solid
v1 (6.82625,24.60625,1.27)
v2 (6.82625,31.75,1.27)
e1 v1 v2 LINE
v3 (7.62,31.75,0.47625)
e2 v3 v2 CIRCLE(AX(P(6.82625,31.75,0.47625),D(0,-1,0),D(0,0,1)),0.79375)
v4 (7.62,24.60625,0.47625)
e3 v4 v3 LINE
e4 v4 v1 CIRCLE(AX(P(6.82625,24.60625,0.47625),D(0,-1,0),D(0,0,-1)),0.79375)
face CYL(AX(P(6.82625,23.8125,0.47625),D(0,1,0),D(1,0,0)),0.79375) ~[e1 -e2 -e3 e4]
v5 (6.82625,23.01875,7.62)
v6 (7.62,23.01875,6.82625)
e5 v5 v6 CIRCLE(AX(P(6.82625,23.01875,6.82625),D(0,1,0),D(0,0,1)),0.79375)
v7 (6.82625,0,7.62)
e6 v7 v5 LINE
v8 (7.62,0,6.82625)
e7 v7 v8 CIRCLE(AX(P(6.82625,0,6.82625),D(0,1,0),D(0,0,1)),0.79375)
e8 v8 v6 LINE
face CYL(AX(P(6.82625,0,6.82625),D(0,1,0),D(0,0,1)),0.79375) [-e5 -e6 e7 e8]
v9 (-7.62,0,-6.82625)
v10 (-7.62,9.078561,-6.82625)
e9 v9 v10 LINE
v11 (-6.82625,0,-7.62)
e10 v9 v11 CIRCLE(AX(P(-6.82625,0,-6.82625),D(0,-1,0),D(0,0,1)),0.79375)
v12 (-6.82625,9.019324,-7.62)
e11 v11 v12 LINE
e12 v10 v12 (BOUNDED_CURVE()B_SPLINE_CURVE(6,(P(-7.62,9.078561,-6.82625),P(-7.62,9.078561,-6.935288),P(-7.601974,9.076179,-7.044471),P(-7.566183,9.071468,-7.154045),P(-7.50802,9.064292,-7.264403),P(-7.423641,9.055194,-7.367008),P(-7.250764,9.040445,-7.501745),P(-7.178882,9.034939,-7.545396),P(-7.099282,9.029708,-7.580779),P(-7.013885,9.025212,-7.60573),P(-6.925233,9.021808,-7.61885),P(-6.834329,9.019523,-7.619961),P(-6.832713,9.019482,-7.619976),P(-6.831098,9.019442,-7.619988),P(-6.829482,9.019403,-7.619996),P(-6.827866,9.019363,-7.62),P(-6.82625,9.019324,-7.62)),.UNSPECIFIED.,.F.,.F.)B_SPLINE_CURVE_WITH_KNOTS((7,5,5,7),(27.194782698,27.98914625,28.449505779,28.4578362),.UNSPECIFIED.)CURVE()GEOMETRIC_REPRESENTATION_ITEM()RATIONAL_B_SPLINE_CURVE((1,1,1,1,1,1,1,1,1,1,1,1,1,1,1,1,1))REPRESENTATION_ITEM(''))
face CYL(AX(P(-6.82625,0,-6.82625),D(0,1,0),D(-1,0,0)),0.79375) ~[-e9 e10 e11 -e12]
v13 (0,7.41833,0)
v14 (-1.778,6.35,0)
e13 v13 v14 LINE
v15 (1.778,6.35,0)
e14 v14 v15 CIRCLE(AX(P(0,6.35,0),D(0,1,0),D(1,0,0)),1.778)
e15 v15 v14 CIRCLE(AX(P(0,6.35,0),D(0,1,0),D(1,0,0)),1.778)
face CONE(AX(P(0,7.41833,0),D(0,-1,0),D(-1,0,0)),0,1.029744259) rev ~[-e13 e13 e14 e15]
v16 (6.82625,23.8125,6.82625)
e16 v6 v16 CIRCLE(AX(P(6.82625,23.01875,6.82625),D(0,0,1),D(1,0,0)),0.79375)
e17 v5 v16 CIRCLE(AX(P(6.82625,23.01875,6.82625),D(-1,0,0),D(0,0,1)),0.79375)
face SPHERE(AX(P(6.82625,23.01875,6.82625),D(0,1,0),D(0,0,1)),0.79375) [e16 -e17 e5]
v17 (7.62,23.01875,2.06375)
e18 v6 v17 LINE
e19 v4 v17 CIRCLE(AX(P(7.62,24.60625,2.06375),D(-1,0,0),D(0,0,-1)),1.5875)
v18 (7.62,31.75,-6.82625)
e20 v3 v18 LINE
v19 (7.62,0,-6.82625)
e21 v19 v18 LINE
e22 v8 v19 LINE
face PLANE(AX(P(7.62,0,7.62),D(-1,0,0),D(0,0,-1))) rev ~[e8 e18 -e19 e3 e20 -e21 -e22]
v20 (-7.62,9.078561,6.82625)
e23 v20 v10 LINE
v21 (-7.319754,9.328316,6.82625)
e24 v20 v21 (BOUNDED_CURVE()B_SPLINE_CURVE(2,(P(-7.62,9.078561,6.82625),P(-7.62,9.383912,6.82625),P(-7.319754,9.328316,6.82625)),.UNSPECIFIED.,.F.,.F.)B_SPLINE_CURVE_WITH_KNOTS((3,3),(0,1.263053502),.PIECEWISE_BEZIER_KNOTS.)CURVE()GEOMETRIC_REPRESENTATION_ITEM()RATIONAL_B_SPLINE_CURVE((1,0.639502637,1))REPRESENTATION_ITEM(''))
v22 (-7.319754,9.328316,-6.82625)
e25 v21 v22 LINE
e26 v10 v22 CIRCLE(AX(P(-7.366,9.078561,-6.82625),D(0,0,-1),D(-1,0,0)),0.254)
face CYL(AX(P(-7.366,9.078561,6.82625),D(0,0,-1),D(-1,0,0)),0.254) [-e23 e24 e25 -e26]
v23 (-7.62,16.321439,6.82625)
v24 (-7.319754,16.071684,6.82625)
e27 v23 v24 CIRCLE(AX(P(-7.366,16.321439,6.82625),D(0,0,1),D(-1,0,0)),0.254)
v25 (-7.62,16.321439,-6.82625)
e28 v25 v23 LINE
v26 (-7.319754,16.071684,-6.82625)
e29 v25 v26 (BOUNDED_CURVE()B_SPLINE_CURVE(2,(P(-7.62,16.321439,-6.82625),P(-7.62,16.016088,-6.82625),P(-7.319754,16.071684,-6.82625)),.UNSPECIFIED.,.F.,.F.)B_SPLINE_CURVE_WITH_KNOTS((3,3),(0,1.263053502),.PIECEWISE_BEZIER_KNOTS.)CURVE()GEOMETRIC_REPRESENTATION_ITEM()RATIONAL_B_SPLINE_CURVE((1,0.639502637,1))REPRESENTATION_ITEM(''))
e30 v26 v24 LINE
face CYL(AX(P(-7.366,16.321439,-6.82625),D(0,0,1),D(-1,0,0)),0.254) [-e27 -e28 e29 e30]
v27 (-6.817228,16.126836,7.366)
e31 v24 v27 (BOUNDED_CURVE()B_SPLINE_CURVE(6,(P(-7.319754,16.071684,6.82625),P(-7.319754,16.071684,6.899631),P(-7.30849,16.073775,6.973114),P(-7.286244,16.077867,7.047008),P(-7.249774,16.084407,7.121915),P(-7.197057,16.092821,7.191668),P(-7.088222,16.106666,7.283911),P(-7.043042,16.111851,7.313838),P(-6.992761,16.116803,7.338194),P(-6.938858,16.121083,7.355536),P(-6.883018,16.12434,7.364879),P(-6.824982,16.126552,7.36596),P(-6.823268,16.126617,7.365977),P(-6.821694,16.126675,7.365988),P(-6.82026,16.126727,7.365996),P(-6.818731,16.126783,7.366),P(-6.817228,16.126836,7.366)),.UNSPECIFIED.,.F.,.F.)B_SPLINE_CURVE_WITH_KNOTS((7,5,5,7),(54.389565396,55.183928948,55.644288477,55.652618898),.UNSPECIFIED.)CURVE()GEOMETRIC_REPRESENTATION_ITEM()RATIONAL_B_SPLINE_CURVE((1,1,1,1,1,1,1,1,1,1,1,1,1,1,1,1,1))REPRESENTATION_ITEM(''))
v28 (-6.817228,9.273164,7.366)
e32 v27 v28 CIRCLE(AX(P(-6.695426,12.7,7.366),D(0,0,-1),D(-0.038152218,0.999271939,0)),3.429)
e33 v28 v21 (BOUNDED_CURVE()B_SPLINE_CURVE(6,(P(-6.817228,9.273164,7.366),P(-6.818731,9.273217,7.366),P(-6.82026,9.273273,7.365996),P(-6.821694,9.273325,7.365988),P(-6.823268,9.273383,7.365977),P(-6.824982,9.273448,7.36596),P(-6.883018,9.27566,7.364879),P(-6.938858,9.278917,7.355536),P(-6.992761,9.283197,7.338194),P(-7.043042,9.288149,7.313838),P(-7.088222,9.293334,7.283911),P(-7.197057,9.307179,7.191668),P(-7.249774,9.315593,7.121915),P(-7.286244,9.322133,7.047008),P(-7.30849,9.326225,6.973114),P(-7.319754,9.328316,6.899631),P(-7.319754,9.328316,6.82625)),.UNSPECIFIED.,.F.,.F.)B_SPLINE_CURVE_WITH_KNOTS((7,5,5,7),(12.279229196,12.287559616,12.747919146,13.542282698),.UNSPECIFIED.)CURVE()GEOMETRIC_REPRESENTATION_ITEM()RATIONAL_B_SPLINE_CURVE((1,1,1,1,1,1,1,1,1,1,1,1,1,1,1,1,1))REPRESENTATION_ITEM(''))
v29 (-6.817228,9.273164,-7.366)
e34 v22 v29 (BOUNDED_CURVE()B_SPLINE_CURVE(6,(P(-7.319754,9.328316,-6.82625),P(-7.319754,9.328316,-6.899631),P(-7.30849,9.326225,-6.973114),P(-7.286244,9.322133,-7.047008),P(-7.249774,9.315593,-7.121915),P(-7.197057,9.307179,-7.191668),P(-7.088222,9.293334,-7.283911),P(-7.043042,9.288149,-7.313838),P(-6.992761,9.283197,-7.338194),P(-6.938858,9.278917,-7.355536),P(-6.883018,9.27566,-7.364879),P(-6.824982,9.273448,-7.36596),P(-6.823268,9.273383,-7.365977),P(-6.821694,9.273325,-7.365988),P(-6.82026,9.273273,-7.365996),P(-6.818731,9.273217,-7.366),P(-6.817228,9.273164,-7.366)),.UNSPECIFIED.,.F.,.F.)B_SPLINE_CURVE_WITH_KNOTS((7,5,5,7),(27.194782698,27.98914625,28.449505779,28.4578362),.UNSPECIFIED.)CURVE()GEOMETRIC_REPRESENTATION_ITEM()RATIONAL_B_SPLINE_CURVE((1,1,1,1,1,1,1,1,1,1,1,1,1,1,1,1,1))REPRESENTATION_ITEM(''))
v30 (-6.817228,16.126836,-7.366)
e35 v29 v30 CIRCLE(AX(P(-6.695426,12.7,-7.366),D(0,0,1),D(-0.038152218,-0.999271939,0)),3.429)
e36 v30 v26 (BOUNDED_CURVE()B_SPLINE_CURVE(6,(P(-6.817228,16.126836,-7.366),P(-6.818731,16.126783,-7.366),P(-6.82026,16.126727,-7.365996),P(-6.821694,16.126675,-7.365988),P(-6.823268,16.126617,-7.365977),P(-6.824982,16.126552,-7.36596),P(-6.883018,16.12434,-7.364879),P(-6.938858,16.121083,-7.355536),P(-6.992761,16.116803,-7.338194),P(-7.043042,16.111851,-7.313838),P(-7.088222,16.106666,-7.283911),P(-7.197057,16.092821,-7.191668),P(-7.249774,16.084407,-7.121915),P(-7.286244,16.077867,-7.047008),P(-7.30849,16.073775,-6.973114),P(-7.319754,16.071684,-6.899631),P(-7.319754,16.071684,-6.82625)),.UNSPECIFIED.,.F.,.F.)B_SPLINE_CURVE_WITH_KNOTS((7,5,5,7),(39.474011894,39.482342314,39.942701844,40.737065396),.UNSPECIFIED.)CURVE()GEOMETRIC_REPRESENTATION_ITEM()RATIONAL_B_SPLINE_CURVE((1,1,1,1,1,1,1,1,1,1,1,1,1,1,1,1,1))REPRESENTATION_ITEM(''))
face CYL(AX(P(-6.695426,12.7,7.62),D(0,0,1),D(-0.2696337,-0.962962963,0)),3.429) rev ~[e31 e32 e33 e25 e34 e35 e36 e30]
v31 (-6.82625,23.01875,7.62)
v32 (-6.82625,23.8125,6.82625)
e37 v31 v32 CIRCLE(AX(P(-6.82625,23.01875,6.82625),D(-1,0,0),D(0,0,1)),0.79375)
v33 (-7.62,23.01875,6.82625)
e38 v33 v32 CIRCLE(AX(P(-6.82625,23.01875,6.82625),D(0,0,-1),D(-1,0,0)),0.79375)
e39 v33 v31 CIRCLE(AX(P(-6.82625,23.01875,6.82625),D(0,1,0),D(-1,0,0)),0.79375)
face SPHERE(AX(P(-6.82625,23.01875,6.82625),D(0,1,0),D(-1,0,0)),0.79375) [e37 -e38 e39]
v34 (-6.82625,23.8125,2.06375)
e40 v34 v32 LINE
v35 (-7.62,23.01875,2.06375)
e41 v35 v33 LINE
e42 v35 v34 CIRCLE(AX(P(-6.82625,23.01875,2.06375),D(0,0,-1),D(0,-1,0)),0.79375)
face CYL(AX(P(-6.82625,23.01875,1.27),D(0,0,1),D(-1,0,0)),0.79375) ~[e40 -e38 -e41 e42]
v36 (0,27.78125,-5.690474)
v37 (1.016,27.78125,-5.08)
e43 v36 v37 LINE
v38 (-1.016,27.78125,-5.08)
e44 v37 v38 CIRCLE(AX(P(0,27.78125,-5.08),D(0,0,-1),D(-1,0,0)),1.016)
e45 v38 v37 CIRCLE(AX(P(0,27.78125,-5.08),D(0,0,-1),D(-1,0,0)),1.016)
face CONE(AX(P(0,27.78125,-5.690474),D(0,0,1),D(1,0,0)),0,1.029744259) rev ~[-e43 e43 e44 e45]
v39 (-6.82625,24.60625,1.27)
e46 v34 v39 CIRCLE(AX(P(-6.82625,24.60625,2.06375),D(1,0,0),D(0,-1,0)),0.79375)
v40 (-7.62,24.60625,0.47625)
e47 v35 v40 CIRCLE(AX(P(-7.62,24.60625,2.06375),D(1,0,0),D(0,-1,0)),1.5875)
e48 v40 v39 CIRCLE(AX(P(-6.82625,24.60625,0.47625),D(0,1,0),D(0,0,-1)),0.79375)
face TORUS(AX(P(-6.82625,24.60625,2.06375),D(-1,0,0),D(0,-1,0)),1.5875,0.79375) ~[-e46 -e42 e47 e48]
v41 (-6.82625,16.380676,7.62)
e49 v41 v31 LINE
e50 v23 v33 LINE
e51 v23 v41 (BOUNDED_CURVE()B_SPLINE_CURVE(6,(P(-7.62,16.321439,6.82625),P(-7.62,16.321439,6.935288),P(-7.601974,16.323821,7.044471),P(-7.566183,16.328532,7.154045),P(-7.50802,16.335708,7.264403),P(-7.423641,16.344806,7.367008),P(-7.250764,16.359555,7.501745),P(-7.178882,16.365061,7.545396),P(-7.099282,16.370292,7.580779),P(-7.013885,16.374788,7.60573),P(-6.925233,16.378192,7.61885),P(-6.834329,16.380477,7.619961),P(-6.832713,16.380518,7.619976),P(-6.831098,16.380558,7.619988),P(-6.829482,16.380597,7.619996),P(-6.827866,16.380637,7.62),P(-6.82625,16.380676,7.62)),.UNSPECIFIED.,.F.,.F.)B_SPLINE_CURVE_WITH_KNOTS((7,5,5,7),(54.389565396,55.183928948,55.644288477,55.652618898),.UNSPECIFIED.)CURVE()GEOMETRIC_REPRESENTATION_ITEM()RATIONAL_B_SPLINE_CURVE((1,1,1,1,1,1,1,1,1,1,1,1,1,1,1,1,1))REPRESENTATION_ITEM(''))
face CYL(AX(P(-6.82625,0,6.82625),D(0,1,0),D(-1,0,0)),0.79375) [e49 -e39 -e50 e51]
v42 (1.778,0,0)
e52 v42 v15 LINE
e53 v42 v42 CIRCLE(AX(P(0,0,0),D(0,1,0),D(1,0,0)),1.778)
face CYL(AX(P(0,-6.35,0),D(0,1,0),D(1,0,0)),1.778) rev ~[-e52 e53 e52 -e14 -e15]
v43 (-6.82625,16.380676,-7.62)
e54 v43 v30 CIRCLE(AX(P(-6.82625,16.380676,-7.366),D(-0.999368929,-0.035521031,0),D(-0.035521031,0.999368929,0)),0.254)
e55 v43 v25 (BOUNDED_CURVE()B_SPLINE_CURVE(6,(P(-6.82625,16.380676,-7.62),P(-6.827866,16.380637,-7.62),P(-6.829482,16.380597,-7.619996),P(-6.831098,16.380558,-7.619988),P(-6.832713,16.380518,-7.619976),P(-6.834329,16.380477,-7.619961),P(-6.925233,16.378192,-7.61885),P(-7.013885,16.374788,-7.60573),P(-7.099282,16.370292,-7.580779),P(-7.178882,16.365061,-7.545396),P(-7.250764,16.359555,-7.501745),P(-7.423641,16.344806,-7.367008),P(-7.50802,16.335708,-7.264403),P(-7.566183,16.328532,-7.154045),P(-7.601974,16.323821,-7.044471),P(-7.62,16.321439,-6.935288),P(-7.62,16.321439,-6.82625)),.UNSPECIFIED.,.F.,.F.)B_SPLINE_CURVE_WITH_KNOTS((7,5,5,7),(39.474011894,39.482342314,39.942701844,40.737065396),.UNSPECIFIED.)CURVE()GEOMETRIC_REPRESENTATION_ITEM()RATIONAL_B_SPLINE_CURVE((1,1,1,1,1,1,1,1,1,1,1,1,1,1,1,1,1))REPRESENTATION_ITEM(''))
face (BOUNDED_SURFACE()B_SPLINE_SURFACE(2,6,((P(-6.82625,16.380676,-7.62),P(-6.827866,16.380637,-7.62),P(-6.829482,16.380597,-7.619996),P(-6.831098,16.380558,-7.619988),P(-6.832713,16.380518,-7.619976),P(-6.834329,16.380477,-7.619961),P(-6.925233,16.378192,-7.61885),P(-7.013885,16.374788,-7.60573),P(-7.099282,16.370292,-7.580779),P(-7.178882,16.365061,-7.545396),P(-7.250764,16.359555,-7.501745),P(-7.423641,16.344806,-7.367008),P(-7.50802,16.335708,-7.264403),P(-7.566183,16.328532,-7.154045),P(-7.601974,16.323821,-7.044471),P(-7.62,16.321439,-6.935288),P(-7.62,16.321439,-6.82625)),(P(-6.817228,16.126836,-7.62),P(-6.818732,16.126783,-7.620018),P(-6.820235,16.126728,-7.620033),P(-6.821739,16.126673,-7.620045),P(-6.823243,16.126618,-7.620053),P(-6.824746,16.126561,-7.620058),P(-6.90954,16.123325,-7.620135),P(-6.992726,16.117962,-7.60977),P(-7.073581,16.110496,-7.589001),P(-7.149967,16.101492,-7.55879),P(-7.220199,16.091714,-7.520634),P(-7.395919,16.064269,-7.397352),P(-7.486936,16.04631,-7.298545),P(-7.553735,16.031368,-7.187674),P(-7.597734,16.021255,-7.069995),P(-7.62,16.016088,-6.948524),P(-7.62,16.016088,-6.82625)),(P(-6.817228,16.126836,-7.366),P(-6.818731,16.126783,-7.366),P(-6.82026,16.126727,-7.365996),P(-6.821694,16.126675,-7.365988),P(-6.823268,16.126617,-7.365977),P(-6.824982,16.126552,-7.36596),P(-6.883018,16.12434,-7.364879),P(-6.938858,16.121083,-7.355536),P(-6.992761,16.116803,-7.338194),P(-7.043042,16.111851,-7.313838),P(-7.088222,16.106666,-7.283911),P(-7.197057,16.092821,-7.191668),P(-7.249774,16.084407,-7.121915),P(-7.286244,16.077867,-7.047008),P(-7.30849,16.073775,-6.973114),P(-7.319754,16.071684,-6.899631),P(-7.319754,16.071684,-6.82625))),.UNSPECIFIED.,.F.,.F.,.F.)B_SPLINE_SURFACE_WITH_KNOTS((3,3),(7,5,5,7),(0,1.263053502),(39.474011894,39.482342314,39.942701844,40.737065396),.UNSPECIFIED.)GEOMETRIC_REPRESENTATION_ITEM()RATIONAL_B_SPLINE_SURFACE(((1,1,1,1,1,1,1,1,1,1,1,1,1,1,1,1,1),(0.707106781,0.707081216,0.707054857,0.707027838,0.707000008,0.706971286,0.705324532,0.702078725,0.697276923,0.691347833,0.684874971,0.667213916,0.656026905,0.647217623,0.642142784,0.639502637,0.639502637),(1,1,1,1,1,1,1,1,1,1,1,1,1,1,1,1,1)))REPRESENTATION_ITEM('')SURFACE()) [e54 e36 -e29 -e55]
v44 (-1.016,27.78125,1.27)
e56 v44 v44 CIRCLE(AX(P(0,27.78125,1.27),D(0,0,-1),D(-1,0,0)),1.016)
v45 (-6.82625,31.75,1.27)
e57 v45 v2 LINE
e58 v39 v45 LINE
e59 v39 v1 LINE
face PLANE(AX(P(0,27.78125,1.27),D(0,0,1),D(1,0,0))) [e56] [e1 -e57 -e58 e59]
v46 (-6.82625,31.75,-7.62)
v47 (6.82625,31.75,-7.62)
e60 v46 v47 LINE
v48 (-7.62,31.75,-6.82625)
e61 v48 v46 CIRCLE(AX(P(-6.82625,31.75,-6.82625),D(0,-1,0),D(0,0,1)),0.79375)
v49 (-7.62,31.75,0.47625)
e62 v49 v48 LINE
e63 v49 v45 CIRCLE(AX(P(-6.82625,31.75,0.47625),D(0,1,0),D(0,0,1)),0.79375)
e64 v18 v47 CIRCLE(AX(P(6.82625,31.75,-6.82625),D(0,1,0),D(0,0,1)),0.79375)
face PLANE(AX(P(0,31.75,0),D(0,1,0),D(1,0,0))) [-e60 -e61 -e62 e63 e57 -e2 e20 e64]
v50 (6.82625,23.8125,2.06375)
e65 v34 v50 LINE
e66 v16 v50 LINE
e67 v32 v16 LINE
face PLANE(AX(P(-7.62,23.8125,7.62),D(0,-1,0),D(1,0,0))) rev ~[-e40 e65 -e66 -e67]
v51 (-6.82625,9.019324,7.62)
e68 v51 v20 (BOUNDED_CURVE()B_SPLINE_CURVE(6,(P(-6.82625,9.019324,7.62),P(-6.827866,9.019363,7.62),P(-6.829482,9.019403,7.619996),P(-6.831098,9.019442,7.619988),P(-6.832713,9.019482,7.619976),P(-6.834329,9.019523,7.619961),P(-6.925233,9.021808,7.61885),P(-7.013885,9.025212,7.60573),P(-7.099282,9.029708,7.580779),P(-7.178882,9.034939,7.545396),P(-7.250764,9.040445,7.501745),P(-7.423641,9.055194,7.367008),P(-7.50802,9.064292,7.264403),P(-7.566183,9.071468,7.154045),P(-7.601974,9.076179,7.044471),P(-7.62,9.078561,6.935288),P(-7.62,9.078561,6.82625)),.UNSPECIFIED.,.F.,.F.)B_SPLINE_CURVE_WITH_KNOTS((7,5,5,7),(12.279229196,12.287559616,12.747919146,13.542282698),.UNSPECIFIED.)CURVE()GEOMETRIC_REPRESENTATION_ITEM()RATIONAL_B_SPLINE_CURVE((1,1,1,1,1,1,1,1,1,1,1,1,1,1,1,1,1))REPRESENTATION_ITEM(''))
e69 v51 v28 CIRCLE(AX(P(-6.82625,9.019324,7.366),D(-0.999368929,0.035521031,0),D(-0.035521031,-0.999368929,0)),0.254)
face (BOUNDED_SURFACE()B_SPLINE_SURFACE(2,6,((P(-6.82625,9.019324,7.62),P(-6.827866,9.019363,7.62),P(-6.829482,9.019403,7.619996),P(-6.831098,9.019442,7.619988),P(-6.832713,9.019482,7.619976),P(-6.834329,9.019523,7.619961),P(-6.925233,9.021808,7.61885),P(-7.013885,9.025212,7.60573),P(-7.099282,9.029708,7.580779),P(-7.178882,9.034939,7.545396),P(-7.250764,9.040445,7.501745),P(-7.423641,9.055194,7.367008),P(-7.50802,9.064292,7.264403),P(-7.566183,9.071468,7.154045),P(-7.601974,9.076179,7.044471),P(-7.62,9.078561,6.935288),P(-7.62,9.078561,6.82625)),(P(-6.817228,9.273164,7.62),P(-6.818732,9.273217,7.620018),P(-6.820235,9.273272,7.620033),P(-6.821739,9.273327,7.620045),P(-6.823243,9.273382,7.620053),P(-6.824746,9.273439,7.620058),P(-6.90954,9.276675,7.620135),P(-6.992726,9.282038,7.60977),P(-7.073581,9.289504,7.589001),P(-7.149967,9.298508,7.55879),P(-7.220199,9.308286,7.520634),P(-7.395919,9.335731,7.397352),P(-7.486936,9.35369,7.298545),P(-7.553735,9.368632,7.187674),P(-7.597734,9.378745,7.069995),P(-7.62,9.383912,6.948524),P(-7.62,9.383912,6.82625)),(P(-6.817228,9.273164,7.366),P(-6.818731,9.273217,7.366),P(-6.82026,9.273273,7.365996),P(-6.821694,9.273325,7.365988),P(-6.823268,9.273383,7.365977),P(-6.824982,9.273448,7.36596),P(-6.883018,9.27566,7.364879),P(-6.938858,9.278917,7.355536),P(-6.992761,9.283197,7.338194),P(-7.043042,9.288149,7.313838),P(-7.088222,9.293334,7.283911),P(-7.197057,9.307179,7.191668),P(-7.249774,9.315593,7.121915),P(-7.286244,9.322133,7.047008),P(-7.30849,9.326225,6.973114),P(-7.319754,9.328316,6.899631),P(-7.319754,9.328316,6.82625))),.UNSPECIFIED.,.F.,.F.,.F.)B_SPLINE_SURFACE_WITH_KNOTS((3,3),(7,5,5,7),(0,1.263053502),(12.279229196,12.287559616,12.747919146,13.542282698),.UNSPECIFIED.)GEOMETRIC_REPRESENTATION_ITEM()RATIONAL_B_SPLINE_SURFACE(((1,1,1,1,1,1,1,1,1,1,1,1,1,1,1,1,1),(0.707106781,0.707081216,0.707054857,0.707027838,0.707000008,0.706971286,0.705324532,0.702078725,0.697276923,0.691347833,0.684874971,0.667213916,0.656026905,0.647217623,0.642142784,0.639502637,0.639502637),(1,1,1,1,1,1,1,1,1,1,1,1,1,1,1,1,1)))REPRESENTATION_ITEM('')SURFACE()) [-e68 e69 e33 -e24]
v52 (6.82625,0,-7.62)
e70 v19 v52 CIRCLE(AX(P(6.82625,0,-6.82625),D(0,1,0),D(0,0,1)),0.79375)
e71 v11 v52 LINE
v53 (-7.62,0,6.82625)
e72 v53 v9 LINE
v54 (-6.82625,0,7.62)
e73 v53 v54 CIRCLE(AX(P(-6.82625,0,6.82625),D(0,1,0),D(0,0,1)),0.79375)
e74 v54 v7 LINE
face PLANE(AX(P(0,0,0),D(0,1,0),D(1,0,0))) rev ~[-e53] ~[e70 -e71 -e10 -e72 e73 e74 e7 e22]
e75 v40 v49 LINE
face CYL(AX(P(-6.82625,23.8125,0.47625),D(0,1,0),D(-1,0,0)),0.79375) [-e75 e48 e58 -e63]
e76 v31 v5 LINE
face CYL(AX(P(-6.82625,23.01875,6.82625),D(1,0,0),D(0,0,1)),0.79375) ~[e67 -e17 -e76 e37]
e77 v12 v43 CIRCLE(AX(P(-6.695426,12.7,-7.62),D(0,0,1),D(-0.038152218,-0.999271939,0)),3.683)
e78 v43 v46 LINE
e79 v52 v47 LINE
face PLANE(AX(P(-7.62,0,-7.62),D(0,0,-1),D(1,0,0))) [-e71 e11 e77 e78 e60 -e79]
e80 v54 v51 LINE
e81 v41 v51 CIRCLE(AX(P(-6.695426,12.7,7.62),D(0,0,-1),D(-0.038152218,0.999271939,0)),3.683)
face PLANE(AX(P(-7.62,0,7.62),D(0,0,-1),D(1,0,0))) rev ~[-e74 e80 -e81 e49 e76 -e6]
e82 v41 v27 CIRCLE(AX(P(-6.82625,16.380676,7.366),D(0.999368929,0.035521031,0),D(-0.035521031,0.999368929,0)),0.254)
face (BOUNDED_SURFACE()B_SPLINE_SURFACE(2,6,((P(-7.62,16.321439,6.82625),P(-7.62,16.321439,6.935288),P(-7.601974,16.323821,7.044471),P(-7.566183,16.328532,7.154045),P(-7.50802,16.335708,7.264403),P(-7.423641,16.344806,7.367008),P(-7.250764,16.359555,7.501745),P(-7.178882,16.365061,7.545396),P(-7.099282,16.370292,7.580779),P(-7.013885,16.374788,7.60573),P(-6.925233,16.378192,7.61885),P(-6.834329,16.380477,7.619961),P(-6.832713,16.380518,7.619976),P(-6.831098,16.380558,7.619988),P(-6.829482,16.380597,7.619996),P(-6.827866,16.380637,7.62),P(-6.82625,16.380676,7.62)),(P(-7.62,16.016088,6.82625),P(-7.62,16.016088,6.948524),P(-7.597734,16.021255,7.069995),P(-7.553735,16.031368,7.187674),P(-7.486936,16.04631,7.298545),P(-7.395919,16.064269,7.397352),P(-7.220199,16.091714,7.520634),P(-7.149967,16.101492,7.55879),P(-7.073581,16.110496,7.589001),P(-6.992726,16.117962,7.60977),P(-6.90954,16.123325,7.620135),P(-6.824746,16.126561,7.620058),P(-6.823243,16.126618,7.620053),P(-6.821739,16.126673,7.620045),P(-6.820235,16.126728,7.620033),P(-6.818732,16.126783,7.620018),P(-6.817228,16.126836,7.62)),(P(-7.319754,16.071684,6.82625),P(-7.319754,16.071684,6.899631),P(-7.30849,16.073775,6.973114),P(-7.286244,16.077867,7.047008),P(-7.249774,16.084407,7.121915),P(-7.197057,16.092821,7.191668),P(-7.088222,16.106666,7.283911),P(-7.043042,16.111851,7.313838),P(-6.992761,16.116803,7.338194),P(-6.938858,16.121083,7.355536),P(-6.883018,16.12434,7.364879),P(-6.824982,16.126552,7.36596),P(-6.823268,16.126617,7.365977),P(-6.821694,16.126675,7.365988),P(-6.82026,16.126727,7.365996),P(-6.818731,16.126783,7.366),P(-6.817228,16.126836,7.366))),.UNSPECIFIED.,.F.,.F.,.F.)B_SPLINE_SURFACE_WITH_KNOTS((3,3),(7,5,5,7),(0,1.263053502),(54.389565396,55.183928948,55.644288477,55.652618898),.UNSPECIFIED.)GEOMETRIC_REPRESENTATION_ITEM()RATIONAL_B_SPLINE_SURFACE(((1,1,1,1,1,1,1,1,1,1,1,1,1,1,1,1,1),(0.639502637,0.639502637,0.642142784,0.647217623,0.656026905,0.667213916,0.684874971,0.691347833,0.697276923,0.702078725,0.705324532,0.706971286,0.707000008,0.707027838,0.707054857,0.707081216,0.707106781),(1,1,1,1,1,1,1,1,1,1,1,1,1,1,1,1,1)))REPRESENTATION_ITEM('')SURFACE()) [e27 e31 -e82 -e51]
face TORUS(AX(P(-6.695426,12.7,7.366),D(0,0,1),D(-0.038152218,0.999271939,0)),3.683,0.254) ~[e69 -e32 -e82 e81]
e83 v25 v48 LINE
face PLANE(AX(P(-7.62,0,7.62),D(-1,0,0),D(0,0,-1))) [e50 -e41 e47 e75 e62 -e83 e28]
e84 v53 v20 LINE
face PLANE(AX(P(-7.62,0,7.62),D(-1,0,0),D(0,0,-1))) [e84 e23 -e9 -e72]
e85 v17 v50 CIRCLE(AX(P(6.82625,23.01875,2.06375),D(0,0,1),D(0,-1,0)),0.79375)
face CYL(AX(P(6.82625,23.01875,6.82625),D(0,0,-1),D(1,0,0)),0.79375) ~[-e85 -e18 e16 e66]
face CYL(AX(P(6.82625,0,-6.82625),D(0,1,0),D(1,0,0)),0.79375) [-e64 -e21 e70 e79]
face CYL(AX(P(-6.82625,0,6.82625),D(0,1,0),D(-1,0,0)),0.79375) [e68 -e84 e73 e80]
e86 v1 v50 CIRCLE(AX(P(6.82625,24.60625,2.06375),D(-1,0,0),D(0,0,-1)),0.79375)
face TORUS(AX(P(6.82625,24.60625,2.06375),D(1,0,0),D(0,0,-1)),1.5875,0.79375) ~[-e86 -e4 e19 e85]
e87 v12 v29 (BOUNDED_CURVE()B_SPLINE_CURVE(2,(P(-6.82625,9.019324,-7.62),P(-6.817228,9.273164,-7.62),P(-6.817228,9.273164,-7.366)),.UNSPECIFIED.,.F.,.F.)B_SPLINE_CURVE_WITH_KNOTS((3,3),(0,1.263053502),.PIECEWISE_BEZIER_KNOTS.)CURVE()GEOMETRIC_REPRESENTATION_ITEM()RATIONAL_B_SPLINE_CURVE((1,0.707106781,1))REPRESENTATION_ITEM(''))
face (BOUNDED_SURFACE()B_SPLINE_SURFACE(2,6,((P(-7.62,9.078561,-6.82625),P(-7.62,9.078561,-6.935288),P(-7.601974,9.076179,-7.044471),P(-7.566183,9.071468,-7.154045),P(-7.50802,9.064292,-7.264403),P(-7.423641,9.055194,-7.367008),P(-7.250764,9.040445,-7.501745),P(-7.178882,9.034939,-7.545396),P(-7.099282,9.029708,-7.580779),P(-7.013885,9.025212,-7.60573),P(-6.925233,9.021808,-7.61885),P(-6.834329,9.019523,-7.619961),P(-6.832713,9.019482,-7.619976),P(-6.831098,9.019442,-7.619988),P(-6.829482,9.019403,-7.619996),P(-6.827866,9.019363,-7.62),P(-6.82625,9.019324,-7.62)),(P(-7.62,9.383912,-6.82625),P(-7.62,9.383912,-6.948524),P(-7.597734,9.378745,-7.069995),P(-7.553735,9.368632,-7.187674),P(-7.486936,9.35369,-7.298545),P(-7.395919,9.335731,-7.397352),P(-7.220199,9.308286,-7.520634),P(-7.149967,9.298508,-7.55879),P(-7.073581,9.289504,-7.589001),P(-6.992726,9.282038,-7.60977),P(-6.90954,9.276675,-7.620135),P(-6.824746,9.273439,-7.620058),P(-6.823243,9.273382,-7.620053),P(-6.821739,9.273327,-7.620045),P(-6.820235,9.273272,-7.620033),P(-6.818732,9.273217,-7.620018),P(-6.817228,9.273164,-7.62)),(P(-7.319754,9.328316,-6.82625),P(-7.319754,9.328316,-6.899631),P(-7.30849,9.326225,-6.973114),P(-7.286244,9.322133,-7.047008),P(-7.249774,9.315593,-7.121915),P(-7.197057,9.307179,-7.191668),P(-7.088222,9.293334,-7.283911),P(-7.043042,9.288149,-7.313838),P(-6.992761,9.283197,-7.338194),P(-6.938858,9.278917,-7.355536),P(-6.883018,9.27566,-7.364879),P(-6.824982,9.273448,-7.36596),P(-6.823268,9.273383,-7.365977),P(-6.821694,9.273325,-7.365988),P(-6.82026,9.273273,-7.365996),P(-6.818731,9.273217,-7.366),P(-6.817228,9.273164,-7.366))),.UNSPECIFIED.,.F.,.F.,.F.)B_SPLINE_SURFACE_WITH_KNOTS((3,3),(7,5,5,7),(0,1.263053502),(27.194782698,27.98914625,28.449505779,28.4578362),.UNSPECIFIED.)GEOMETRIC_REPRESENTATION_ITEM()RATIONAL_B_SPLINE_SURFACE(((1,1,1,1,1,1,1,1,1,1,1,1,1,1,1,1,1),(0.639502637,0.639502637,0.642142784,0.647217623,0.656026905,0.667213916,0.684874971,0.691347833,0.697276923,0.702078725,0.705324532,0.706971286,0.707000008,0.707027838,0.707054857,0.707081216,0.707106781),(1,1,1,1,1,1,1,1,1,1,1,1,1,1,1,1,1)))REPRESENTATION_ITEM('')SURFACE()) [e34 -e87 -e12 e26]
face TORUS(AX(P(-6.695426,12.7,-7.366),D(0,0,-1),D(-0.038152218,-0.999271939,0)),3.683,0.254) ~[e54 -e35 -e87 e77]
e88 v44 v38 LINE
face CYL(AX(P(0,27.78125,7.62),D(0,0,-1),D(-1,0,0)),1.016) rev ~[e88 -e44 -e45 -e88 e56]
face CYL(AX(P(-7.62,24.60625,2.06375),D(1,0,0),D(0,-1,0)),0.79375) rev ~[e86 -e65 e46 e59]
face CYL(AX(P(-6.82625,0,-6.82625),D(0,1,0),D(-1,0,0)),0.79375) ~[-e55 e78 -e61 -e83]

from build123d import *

# Parameters (mm, degrees)
SKETCH1_W                        = 15.24
SKETCH1_H                        = 15.24
BOSS_EXTRUDE1_DEPTH              = 31.75
FILLET1_R                        = 0.79375
CUT_EXTRUDE1_DEPTH               = 16.24
SKETCH2_3_W                      = 15.24
SKETCH2_3_H                      = 7.9375
CUT_EXTRUDE2_DEPTH               = 6.35
F_4_0_209_DIAMETER_HOLE1_D       = 2.032
F_4_0_209_DIAMETER_HOLE1_DEPTH   = 6.35
F_4_0_209_DIAMETER_HOLE1_TIP     = 0.610474389
F_10_0_1935_DIAMETER_HOLE1_D     = 3.556
F_10_0_1935_DIAMETER_HOLE1_DEPTH = 6.35
F_10_0_1935_DIAMETER_HOLE1_TIP   = 1.068330181
FILLET2_R                        = 0.79375
FILLET3_R                        = 0.254


with BuildPart() as part:
    # Sketch1 → Boss-Extrude1 (new body)
    with BuildSketch(Plane(origin=(0, 0, 0), x_dir=(1, 0, 0), z_dir=(0, 1, 0))):
        Rectangle(SKETCH1_W, SKETCH1_H)
    extrude(amount=BOSS_EXTRUDE1_DEPTH)

    # Fillet1
    fillet1_edges = [part.edges().sort_by_distance(p)[0] for p in [
        (7.62, 15.875, 7.62),
        (-7.62, 15.875, 7.62),
        (-7.62, 15.875, -7.62),
        (7.62, 15.875, -7.62),
    ]]
    fillet(fillet1_edges, radius=FILLET1_R)

    # Sketch2 → Cut-Extrude1 (cut, through all)
    with BuildSketch(Plane.XY.offset(7.62)):
        with BuildLine():
            ThreePointArc((-7.62, 9.398), (-3.266426044, 12.7), (-7.62, 16.002))
            Line((-7.62, 16.002), (-7.62, 9.398))
        make_face()
    extrude(amount=-CUT_EXTRUDE1_DEPTH, mode=Mode.SUBTRACT)

    # Sketch2<3> → Cut-Extrude2 (cut)
    with BuildSketch(Plane.XY.offset(7.62)):
        with Locations((0, 27.78125)):
            Rectangle(SKETCH2_3_W, SKETCH2_3_H)
    extrude(amount=-CUT_EXTRUDE2_DEPTH, mode=Mode.SUBTRACT)

    # #4 (0.209) Diameter Hole1
    with Locations(Plane.XY.offset(1.27)):
        with Locations((0, 27.78125)):
            Hole(F_4_0_209_DIAMETER_HOLE1_D / 2, depth=F_4_0_209_DIAMETER_HOLE1_DEPTH)
            with Locations((0, 0, -(F_4_0_209_DIAMETER_HOLE1_DEPTH + F_4_0_209_DIAMETER_HOLE1_TIP / 2))):  # 118° drill point
                Cone(0, F_4_0_209_DIAMETER_HOLE1_D / 2, F_4_0_209_DIAMETER_HOLE1_TIP, mode=Mode.SUBTRACT)

    # #10 (0.1935) Diameter Hole1
    with Locations(Plane(origin=(0, 0, 0), x_dir=(-1, 0, 0), z_dir=(0, -1, 0))):
        with Locations((0, 0)):
            Hole(F_10_0_1935_DIAMETER_HOLE1_D / 2, depth=F_10_0_1935_DIAMETER_HOLE1_DEPTH)
            with Locations((0, 0, -(F_10_0_1935_DIAMETER_HOLE1_DEPTH + F_10_0_1935_DIAMETER_HOLE1_TIP / 2))):  # 118° drill point
                Cone(0, F_10_0_1935_DIAMETER_HOLE1_D / 2, F_10_0_1935_DIAMETER_HOLE1_TIP, mode=Mode.SUBTRACT)

    # Fillet2
    fillet2_edges = [part.edges().sort_by_distance(p)[0] for p in [
        (-7.387516008, 23.8125, 7.387516008),
        (7.387516008, 23.8125, 7.387516008),
        (-7.62, 23.8125, 4.048125),
        (-7.62, 27.78125, 1.27),
        (0, 23.8125, 7.62),
        (0, 23.8125, 1.27),
        (7.62, 23.8125, 4.048125),
        (7.62, 27.78125, 1.27),
    ]]
    fillet(fillet2_edges, radius=FILLET2_R)

    # Fillet3
    fillet3_edges = [part.edges().sort_by_distance(p)[0] for p in [
        (-7.387203478, 16.058494452, 7.387828364),
        (-7.387203478, 9.341505548, 7.387828364),
        (-7.62, 9.398, 0),
        (-7.387203472, 9.341505547, -7.387828369),
        (-7.387203472, 16.058494453, -7.387828369),
        (-3.266426044, 12.7, -7.62),
        (-7.62, 16.002, 0),
        (-3.266426044, 12.7, 7.62),
    ]]
    fillet(fillet3_edges, radius=FILLET3_R)


solid = part.part
